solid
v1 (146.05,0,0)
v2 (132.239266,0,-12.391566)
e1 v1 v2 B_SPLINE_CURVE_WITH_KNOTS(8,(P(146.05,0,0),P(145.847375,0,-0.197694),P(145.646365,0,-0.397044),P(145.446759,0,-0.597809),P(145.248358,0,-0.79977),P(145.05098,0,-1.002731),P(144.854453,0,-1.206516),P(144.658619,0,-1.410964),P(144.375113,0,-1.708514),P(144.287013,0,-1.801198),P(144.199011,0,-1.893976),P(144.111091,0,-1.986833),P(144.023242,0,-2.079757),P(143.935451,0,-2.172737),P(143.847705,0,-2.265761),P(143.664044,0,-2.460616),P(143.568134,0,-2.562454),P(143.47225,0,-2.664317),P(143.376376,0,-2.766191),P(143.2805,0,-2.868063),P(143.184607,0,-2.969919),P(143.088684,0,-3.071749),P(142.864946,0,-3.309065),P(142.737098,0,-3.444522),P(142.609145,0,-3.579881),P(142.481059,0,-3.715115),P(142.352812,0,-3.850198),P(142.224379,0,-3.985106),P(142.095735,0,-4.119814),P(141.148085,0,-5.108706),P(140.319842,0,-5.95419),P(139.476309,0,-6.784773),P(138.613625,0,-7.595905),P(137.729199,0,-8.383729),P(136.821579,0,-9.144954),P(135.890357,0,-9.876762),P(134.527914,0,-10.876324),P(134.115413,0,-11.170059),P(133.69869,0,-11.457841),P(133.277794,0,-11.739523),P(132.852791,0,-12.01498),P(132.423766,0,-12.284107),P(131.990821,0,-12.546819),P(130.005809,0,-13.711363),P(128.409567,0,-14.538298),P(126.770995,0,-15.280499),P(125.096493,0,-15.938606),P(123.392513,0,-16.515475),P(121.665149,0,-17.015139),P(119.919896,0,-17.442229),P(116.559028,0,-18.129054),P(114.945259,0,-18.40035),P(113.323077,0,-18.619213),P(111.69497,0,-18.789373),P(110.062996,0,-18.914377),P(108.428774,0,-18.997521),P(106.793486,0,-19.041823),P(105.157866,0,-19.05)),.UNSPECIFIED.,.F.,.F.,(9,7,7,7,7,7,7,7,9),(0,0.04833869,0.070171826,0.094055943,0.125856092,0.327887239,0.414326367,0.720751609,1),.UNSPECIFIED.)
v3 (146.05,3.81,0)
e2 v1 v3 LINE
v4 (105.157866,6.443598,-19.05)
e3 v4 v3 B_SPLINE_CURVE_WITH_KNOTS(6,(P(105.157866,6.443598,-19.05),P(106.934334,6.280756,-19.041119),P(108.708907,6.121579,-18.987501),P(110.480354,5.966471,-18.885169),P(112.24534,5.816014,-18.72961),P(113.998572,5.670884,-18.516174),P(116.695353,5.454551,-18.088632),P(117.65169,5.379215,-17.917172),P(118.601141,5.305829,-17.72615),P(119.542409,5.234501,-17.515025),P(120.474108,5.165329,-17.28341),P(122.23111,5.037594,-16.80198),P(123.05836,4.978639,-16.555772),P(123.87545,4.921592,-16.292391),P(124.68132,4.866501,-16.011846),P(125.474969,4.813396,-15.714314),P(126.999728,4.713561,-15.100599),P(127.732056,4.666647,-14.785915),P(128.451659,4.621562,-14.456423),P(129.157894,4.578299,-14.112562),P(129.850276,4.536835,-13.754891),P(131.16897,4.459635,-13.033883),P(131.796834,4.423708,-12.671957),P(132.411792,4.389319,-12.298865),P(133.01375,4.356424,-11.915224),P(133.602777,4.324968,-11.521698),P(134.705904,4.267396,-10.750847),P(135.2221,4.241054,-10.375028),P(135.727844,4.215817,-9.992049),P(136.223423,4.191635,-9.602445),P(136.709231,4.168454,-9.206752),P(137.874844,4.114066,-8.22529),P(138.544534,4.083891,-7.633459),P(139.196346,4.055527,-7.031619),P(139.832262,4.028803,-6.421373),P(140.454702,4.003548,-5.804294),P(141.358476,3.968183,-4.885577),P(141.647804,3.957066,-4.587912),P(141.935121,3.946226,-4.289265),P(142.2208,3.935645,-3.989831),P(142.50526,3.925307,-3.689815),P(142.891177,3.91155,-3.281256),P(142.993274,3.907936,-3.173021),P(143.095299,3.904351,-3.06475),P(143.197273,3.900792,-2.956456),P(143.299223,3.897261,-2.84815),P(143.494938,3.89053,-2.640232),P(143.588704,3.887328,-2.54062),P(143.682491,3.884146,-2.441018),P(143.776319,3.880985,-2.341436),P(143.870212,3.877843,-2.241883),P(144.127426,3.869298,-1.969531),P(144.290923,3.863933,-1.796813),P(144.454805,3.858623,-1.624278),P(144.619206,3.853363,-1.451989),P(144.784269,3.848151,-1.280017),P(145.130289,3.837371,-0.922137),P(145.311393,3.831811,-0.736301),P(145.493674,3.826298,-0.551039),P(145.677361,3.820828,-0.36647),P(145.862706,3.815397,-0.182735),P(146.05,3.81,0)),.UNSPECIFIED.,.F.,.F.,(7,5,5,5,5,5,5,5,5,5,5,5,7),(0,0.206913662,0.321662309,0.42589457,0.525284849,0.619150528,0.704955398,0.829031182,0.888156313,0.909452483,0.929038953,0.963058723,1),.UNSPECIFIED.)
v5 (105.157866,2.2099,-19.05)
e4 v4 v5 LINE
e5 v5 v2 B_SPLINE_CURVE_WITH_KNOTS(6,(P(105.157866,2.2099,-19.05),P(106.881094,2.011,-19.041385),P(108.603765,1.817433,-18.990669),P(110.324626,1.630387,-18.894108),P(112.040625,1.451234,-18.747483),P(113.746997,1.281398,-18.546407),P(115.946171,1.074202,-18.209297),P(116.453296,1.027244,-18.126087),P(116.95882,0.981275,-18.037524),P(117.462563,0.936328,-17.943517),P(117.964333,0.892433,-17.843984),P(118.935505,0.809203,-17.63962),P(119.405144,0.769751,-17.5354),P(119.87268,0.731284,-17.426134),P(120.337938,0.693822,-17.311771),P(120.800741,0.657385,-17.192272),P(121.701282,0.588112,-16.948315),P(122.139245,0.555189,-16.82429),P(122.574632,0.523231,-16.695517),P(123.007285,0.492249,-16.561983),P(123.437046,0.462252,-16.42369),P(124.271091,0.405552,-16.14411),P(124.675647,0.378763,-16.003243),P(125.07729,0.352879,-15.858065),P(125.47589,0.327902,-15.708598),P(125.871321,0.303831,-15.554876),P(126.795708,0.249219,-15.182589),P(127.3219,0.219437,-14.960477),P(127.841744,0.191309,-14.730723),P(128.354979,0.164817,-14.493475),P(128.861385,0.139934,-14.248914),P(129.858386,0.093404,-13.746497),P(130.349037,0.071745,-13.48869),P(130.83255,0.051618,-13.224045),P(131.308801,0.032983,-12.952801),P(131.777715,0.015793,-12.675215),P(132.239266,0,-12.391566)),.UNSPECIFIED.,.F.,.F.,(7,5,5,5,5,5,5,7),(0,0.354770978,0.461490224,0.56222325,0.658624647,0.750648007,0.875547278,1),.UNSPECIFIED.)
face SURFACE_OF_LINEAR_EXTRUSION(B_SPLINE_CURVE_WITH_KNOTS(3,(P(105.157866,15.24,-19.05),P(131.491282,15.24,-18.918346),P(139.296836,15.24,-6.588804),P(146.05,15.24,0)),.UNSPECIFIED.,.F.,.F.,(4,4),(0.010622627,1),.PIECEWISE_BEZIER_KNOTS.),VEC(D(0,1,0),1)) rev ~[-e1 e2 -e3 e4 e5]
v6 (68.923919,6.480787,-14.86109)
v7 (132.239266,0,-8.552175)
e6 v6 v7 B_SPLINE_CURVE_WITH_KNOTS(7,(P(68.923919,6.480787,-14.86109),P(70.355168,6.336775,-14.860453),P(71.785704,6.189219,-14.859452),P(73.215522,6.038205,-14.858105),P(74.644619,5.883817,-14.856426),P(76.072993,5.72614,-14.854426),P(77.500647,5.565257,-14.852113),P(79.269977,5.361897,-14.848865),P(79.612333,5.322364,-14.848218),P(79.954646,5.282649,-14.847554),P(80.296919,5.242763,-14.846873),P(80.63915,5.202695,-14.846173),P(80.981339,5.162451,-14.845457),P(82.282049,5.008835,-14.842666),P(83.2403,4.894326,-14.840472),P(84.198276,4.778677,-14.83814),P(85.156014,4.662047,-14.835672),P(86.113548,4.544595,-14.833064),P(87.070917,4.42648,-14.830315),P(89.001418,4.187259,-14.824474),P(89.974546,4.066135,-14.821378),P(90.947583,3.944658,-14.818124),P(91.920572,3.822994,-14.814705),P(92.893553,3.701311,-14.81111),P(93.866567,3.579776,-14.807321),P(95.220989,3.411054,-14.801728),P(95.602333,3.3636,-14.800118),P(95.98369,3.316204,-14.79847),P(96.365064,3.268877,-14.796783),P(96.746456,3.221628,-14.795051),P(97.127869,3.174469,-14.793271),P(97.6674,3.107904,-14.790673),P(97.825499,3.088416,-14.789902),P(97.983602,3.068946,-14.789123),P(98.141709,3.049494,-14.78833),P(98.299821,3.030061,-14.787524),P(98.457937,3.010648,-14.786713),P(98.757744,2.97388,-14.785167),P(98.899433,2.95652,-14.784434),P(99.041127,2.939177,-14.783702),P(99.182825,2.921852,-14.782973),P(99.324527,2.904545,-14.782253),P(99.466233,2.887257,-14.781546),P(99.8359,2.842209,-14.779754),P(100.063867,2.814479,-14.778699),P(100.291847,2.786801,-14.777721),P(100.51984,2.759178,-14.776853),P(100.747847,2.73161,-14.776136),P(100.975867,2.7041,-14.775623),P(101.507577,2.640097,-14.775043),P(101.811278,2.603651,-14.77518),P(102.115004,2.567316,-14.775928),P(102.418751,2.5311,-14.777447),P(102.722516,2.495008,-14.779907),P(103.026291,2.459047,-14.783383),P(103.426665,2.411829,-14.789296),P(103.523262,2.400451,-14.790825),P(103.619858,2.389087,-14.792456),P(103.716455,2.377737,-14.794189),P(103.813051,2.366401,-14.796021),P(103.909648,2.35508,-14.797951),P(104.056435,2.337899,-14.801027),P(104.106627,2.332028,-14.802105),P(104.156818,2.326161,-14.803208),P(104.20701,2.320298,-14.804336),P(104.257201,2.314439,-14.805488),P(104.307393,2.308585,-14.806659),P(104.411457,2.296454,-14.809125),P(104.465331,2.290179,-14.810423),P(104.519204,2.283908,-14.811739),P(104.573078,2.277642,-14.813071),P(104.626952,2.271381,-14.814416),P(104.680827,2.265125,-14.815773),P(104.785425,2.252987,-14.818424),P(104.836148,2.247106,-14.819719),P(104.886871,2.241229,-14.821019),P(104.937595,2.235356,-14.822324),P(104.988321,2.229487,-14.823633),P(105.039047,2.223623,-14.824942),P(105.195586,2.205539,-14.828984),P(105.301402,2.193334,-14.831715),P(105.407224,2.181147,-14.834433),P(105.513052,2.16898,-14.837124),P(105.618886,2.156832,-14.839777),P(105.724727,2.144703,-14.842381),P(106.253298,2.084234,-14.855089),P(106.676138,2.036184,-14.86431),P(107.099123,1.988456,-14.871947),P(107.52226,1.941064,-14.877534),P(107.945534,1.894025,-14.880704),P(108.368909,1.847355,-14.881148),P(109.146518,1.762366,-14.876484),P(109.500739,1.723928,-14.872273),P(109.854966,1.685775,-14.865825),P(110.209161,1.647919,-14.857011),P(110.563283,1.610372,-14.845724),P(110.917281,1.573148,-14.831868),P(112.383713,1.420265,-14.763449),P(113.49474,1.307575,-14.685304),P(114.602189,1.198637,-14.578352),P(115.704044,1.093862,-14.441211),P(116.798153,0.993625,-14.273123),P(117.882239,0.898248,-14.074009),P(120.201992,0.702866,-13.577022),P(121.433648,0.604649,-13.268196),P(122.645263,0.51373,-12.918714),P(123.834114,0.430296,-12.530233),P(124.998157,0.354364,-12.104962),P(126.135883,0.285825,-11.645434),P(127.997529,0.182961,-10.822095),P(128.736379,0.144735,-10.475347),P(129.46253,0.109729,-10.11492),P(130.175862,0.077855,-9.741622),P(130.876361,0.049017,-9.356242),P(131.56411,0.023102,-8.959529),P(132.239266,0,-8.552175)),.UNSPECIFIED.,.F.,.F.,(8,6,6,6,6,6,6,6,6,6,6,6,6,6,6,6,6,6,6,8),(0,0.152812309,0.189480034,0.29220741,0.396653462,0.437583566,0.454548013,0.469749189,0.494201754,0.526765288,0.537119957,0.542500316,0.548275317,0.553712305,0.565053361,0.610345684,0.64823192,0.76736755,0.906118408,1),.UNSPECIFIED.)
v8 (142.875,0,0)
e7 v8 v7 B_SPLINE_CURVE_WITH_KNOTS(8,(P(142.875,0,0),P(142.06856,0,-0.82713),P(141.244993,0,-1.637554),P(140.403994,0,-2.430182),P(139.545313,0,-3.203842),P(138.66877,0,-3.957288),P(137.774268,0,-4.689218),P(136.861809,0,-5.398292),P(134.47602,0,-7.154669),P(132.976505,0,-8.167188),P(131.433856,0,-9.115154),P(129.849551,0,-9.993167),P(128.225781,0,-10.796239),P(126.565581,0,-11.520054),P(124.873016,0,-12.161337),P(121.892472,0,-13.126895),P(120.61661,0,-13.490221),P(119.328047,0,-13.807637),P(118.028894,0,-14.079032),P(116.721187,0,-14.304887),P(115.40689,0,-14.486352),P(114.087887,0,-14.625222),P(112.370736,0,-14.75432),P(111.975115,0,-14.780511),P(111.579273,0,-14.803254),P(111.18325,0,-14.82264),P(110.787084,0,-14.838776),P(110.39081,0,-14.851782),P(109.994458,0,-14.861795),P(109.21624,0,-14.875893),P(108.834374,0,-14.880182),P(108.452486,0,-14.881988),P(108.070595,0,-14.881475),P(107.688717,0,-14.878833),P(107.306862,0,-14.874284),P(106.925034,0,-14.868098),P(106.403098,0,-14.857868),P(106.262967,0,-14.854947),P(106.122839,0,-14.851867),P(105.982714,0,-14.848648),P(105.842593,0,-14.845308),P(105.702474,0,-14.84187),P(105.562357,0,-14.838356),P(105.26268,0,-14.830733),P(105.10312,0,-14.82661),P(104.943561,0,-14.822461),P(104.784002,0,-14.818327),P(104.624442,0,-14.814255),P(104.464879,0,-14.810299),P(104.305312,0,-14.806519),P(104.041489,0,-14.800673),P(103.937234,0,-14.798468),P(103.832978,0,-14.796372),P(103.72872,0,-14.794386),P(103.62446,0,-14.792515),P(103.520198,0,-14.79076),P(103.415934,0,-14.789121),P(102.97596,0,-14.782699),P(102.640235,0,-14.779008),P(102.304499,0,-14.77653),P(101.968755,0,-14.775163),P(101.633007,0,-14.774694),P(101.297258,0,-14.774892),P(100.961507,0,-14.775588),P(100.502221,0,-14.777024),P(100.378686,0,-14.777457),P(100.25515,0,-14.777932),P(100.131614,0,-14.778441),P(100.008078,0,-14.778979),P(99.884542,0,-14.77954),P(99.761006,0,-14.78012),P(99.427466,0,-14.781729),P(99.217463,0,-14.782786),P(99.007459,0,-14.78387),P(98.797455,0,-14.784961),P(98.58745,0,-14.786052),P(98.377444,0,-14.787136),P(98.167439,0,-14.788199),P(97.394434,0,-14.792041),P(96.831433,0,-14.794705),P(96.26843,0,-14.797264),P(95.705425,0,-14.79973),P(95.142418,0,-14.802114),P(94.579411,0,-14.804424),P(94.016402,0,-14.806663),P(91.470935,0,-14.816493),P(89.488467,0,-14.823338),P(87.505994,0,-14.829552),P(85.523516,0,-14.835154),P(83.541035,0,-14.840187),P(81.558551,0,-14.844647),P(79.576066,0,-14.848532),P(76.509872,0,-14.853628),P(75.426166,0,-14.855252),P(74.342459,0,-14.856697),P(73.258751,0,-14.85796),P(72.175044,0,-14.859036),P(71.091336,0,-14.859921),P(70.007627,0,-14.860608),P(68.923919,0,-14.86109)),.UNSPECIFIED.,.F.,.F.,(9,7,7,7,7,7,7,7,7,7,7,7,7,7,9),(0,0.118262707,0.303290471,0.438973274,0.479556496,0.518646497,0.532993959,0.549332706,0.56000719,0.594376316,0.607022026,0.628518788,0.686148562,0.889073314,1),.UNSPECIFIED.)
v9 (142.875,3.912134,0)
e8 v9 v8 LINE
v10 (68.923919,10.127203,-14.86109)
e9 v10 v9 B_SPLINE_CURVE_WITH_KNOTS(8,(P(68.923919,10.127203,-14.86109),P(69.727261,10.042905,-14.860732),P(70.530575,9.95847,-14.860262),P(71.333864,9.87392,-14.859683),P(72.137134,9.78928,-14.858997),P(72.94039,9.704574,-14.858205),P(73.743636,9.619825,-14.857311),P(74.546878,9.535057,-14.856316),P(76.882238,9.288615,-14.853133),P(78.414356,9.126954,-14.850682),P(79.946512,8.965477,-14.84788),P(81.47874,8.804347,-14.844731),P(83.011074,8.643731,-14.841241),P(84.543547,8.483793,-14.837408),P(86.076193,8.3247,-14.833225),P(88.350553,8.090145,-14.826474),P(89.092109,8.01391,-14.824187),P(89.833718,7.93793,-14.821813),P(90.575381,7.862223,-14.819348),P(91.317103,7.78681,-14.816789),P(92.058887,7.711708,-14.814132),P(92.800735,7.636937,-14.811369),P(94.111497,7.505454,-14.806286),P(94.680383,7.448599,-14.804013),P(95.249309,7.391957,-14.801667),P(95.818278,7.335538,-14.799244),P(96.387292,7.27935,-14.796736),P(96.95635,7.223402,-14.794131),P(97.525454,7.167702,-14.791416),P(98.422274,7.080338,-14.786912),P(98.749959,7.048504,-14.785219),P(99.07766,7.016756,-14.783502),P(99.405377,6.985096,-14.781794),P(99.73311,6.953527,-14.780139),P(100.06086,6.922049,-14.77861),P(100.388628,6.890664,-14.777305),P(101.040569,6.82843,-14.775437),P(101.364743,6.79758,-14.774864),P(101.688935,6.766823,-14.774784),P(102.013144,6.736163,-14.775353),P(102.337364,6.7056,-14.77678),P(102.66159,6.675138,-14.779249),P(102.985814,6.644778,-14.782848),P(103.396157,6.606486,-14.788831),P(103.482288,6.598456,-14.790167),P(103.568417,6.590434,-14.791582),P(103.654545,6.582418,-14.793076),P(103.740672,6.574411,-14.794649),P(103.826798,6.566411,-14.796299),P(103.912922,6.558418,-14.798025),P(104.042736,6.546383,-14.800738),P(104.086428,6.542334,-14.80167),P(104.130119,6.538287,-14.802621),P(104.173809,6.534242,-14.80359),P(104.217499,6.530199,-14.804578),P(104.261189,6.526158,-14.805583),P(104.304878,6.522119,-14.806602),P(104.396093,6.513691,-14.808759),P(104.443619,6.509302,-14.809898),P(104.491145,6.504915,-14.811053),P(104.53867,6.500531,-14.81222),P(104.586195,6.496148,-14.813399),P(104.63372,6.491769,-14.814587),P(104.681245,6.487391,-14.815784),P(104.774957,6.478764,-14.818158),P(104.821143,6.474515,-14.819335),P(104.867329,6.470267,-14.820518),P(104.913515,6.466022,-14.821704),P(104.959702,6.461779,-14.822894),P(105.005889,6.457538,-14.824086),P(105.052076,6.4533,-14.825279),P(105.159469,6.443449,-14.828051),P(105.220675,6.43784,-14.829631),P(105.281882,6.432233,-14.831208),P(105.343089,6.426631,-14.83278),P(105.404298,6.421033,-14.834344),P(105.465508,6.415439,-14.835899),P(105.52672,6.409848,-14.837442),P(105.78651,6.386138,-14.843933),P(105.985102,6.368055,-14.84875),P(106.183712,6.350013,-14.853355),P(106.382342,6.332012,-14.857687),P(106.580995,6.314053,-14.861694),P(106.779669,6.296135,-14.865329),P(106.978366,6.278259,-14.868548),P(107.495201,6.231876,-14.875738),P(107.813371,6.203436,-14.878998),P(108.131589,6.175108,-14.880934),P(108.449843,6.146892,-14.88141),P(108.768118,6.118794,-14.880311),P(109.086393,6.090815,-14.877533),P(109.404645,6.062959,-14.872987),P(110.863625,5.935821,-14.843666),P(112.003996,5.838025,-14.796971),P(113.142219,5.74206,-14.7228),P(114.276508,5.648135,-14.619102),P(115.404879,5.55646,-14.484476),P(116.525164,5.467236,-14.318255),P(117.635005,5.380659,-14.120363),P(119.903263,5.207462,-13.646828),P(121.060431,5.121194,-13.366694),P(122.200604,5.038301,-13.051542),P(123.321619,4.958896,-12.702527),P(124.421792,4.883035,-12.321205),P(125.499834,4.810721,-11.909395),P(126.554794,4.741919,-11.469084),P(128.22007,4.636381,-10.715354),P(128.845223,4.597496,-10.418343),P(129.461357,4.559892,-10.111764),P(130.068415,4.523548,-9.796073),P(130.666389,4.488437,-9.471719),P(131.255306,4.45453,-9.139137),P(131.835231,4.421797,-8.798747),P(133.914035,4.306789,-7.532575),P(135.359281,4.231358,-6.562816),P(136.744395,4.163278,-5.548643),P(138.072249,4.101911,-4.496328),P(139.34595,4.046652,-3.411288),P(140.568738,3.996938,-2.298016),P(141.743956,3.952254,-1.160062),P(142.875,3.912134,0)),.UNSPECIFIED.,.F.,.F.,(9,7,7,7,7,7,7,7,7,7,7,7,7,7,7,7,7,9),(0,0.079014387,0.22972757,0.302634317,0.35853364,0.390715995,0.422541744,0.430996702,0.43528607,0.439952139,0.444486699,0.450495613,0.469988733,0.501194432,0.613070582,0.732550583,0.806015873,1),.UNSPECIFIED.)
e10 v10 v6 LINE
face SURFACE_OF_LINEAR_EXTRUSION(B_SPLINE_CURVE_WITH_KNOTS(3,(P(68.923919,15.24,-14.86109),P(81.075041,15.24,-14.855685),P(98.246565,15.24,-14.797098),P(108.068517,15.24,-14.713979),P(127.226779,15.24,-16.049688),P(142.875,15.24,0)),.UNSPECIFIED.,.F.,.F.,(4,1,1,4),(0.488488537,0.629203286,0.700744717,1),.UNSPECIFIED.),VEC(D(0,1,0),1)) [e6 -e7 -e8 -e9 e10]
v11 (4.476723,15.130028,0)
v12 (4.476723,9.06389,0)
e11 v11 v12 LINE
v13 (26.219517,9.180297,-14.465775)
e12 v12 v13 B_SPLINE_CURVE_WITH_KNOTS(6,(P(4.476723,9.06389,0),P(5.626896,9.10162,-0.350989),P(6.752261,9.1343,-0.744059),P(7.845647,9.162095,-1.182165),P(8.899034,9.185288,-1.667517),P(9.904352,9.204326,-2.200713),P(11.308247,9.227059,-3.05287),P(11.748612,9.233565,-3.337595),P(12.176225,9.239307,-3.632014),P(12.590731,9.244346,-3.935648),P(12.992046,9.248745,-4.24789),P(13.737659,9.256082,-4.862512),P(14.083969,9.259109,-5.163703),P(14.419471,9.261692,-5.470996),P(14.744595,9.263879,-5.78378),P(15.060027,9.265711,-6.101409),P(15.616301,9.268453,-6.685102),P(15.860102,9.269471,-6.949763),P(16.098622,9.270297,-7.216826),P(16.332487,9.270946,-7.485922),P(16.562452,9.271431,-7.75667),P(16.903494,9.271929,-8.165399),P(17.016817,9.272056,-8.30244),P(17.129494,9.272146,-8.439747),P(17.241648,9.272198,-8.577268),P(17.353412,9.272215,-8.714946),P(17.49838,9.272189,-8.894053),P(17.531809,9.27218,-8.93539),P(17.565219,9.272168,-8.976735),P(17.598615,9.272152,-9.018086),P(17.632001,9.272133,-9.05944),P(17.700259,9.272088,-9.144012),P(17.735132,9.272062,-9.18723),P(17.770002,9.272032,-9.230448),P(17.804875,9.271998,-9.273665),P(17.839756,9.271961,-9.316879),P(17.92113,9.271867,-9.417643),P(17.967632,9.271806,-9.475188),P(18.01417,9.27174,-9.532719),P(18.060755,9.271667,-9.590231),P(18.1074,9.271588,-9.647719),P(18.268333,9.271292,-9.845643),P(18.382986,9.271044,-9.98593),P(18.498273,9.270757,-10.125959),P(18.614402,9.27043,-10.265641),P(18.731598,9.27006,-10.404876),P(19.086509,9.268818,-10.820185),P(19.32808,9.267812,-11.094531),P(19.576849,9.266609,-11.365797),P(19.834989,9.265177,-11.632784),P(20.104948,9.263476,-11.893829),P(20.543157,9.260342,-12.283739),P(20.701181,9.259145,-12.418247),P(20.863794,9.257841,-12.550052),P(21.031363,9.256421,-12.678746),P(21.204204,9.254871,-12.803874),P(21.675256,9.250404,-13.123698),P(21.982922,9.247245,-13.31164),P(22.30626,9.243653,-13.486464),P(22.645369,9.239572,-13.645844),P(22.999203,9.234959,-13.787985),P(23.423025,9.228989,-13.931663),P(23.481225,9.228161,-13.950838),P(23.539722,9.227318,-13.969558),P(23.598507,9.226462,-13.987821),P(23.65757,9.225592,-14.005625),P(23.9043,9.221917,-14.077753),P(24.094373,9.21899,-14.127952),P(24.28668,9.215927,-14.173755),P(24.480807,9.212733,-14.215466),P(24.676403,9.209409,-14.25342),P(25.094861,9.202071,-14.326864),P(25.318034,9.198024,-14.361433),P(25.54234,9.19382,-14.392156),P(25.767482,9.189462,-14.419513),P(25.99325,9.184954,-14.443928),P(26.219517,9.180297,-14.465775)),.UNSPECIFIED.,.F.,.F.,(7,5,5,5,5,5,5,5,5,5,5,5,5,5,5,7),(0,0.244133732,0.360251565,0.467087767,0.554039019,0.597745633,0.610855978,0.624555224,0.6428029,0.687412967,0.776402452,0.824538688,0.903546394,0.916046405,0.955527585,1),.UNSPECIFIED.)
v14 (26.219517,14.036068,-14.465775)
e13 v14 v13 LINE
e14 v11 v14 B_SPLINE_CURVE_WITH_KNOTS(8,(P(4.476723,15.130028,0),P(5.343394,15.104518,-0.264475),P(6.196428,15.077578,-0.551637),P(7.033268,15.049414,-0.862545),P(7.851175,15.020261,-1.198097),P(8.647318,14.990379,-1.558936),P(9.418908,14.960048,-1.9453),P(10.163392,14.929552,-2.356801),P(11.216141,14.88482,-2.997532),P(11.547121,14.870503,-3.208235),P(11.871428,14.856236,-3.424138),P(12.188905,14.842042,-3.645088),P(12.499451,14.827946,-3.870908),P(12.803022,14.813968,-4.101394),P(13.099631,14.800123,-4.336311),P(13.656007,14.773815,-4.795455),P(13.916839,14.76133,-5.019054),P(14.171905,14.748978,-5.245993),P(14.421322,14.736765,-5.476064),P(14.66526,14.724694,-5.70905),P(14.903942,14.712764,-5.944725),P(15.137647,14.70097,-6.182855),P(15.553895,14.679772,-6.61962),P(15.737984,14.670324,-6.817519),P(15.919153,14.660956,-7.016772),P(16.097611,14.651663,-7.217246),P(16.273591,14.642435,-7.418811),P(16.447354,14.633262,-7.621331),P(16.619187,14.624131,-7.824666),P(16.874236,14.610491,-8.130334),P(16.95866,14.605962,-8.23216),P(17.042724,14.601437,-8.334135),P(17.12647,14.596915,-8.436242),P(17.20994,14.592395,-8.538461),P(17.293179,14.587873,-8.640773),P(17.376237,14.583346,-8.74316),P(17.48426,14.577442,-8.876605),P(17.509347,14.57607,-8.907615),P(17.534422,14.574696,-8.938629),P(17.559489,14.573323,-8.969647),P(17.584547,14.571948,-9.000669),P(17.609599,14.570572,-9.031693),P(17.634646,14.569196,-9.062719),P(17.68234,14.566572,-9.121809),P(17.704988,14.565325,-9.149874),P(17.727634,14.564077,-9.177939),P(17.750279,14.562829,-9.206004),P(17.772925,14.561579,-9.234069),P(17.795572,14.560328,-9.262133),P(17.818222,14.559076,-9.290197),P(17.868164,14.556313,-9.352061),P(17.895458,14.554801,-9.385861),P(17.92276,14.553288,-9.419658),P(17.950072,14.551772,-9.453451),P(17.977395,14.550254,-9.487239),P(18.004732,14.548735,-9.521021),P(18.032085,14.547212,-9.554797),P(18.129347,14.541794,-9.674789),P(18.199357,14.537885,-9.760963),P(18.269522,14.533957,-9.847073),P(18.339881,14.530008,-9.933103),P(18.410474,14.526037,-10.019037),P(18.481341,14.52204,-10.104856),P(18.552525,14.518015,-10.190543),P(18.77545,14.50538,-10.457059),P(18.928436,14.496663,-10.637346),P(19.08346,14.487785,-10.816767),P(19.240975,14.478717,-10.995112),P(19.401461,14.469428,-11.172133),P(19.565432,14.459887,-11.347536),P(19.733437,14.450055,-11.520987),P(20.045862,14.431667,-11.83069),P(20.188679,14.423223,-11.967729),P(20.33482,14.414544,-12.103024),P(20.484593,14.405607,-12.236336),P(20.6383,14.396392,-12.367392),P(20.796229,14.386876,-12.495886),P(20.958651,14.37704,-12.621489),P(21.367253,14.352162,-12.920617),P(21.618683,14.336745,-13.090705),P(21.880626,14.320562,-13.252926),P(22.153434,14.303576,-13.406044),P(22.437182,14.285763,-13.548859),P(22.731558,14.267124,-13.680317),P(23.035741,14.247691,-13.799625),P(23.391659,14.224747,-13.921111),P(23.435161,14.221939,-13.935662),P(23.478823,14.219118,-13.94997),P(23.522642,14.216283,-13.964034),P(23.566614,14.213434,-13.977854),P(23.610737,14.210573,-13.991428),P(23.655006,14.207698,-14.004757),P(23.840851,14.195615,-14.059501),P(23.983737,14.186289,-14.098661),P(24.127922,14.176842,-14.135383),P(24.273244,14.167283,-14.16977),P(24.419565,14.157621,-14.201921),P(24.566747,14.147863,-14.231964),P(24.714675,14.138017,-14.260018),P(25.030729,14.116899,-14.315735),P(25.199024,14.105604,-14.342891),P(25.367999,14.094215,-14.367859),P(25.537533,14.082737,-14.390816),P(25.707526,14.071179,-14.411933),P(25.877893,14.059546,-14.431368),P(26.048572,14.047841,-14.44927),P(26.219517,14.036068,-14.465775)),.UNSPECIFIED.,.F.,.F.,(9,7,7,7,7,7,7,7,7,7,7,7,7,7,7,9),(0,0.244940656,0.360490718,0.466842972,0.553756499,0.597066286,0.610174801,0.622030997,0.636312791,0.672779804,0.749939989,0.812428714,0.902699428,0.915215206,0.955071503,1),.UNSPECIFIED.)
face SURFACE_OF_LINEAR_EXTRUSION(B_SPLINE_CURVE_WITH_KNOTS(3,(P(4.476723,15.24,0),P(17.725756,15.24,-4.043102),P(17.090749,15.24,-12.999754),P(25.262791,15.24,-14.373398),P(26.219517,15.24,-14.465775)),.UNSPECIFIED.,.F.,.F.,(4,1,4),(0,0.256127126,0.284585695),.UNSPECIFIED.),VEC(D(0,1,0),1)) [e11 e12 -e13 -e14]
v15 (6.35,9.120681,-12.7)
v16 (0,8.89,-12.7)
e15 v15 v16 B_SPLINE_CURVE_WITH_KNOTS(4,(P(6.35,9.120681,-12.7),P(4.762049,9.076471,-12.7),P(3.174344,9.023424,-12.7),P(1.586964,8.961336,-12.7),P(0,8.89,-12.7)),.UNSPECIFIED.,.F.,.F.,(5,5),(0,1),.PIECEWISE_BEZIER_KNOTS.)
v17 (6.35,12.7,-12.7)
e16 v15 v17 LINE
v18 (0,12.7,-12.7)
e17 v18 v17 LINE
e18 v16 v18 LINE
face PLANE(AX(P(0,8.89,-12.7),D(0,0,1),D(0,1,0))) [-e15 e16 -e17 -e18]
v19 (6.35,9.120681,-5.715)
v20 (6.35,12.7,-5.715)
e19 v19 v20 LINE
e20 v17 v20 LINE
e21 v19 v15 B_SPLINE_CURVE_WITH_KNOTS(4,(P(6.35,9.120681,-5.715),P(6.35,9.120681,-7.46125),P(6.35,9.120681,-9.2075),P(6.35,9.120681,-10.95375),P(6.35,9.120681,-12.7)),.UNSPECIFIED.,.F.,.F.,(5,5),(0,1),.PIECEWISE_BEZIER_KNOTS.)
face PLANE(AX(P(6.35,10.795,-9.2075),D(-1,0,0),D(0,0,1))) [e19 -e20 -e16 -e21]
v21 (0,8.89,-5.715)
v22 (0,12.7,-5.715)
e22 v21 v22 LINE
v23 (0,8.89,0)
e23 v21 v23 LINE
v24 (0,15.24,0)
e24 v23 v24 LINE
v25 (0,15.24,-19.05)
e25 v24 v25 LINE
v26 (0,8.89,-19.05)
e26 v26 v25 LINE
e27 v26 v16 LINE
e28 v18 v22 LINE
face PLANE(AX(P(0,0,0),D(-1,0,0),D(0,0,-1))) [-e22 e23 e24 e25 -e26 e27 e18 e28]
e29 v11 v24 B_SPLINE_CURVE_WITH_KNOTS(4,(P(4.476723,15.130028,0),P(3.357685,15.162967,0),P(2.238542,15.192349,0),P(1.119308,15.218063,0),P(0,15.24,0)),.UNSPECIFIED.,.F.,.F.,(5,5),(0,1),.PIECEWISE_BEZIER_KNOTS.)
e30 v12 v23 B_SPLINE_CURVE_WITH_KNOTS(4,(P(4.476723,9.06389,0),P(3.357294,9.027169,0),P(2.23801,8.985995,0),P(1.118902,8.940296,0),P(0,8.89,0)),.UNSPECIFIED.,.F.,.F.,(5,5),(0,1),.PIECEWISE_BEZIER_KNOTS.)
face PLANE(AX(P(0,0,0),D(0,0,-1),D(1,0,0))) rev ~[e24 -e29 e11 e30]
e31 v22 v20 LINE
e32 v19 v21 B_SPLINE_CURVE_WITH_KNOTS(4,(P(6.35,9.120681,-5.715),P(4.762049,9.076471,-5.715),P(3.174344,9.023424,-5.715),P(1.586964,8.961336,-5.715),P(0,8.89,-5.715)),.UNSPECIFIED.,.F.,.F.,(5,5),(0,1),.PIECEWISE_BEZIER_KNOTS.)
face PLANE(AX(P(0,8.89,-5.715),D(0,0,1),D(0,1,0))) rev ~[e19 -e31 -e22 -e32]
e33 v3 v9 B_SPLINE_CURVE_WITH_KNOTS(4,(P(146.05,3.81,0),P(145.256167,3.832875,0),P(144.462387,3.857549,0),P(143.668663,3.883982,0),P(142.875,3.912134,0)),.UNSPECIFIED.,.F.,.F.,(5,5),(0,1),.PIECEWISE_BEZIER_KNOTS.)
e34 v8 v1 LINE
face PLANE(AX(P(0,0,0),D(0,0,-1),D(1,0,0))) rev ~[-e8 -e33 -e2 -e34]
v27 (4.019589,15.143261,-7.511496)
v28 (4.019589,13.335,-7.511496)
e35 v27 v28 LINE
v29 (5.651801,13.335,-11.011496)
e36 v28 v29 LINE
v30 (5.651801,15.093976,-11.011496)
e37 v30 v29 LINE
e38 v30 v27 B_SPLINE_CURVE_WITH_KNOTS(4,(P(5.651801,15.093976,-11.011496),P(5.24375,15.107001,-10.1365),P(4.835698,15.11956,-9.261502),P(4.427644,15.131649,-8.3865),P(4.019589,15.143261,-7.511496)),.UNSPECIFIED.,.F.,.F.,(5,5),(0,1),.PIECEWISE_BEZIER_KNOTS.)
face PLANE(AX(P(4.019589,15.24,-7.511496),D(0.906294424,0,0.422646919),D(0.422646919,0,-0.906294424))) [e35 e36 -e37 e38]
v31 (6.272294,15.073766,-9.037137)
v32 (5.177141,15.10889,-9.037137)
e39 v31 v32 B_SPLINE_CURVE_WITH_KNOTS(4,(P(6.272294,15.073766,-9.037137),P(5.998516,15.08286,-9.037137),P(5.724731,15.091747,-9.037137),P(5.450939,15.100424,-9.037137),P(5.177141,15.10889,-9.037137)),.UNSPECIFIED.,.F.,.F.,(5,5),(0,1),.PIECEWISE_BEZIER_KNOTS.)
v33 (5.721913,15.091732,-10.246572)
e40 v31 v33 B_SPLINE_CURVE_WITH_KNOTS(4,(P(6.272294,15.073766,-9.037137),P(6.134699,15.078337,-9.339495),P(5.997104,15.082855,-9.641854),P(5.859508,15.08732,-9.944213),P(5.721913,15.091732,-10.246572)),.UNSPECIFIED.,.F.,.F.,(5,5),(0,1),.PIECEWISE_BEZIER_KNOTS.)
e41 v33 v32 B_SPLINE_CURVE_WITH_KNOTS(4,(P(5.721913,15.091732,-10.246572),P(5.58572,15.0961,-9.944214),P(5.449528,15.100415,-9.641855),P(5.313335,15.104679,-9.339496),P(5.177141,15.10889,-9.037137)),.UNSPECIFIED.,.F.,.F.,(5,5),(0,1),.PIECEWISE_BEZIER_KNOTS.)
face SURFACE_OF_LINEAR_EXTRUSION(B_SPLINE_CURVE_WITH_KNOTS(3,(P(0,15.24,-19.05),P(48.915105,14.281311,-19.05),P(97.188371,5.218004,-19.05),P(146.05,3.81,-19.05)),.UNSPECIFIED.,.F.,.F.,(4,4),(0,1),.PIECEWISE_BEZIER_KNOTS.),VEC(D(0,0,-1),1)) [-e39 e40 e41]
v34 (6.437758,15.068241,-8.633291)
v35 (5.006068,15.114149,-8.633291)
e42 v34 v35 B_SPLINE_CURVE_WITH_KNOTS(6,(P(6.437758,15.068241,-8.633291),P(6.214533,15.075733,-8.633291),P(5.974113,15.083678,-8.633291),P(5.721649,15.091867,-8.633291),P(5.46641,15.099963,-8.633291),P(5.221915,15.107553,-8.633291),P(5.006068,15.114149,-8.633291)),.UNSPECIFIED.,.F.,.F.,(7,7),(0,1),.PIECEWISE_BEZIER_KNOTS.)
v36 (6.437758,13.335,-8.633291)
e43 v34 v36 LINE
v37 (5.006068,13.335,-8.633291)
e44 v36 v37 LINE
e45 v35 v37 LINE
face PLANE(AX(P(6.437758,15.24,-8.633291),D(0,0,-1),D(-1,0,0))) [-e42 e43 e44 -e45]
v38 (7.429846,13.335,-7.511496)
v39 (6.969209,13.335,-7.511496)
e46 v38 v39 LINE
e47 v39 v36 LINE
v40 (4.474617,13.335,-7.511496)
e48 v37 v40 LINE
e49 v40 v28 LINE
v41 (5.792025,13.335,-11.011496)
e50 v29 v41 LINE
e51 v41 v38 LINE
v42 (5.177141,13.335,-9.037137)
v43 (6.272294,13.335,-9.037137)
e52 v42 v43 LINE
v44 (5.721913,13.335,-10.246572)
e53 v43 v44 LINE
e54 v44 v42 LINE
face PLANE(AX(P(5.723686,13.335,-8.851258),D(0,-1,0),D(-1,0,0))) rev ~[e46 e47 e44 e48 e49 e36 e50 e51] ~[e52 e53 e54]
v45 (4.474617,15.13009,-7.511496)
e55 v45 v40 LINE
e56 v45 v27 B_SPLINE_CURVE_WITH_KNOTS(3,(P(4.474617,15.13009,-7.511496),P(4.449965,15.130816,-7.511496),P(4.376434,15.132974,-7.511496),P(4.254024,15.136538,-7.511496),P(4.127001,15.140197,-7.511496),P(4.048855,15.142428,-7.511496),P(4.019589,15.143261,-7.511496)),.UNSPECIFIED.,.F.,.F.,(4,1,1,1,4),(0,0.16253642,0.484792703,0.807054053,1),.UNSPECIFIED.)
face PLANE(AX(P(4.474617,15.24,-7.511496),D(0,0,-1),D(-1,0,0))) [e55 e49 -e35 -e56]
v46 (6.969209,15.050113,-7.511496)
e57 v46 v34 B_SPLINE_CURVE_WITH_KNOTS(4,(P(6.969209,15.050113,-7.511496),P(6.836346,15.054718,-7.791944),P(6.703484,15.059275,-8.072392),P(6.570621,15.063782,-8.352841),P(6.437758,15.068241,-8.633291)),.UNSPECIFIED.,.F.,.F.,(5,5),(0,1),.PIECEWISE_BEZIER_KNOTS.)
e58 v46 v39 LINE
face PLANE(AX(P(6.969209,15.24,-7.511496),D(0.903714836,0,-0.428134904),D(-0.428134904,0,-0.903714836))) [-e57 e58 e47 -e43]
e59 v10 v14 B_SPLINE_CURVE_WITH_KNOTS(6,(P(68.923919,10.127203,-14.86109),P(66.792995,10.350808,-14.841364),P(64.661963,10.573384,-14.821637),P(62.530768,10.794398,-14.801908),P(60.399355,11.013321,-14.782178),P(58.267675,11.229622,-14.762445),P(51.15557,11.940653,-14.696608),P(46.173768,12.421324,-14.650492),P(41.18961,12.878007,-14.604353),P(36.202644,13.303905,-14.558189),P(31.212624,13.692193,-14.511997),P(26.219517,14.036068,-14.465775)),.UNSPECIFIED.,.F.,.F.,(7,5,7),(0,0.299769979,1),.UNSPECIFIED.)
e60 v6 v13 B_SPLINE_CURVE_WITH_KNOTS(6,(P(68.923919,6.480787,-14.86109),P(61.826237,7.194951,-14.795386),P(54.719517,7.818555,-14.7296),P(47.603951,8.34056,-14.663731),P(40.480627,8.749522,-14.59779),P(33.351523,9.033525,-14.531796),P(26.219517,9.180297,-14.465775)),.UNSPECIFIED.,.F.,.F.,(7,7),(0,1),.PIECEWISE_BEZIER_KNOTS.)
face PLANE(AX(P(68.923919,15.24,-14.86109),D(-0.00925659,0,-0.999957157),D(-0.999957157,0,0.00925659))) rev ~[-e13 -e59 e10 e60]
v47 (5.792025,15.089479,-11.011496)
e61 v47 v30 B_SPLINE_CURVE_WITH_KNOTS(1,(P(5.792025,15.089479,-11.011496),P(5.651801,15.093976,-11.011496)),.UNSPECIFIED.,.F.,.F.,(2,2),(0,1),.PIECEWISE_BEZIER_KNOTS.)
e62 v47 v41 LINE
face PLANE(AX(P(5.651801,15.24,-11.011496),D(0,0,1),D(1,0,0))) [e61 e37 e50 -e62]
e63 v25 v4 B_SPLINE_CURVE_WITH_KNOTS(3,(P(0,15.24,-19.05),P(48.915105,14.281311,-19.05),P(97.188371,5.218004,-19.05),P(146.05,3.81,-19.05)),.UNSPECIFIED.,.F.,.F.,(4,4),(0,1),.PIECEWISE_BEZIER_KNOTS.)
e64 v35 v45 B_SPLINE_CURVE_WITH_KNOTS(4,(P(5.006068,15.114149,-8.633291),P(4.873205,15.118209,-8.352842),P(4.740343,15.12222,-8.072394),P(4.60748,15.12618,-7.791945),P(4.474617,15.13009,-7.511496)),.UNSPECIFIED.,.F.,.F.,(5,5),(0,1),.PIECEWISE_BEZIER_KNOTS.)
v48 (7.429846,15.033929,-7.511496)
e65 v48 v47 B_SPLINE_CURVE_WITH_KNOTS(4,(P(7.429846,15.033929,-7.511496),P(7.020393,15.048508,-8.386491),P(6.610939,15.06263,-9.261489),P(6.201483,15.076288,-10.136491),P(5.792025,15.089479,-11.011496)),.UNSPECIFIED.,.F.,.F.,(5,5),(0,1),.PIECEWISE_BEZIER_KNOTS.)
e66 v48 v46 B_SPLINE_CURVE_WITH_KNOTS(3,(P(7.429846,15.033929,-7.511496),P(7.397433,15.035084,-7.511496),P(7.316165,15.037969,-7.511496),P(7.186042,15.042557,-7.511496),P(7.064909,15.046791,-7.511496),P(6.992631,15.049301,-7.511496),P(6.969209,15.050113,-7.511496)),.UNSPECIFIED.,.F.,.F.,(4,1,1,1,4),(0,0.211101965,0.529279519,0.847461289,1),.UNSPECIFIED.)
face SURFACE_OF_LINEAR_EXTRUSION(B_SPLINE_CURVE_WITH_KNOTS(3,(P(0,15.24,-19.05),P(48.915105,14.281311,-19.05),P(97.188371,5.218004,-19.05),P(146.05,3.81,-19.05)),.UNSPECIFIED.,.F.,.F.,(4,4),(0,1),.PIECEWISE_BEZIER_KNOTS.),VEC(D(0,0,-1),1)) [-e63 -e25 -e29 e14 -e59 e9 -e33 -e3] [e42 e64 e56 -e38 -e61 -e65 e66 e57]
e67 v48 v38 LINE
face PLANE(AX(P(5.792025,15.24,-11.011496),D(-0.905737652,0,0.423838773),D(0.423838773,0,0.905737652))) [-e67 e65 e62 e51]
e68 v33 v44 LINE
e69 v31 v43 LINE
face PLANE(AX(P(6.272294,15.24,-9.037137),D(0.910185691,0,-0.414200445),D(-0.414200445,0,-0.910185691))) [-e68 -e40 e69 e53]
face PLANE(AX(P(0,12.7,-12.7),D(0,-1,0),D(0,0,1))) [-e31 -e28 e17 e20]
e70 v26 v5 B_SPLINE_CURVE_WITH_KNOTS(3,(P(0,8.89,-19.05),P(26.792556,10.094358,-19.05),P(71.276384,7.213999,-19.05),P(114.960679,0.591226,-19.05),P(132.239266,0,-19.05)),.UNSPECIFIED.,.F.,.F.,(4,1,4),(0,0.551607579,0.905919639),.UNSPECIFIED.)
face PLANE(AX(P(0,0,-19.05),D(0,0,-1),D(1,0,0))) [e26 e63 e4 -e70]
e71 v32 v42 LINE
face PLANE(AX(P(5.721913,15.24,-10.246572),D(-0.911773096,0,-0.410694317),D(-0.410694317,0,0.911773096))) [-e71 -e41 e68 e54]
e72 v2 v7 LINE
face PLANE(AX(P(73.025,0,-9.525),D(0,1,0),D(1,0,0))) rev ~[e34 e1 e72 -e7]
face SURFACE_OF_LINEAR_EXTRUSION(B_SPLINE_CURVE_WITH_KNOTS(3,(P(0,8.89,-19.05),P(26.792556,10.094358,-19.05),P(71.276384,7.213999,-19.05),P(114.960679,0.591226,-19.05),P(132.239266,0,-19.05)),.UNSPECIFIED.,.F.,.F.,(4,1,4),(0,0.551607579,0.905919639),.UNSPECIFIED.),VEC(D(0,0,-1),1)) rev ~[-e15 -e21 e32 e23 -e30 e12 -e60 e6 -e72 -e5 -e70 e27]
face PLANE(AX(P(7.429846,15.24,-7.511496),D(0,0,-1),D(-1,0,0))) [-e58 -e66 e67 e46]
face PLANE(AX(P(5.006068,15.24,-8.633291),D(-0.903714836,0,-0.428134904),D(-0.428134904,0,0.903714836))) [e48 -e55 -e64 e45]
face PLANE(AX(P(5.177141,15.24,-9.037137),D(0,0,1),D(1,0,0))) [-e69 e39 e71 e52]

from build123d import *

# Parameters (mm, degrees)
SKETCH1_W           = 146.05
SKETCH1_H           = 19.05
BOSS_EXTRUDE1_DEPTH = 15.24
CUT_EXTRUDE5_DEPTH  = 1.905
CUT_EXTRUDE2_DEPTH  = 19.05
CUT_EXTRUDE3_DEPTH  = 149.073504166
SKETCH5_W           = 6.985
SKETCH5_H           = 3.81
CUT_EXTRUDE4_DEPTH  = 6.35


with BuildPart() as part:
    # Sketch1 → Boss-Extrude1 (new body)
    with BuildSketch(Plane(origin=(0, 0, 0), x_dir=(1, 0, 0), z_dir=(0, 1, 0))):
        with Locations((73.025, 9.525)):
            Rectangle(SKETCH1_W, SKETCH1_H)
    extrude(amount=BOSS_EXTRUDE1_DEPTH)

    # Sketch6 → Cut-Extrude5 (cut)
    with BuildSketch(Plane(origin=(0, 15.24, 0), x_dir=(1, 0, 0), z_dir=(0, 1, 0))):
        Polygon((5.792025279, 11.011495693), (7.429845792, 7.511495693), (6.969208773, 7.511495693), (6.437758452, 8.633290564), (5.006067747, 8.633290564), (4.474617426, 7.511495693), (4.019589382, 7.511495693), (5.65180092, 11.011495693), align=None)
        Polygon((5.7219131, 10.246571814), (5.177141465, 9.037136718), (6.272293709, 9.037136718), align=None, mode=Mode.SUBTRACT)
    extrude(amount=-CUT_EXTRUDE5_DEPTH, mode=Mode.SUBTRACT)

    # Sketch4 → Cut-Extrude2 (cut)
    with BuildSketch(Plane(origin=(0, 15.24, 0), x_dir=(1, 0, 0), z_dir=(0, 1, 0))):
        with BuildLine():
            add(Edge.make_bspline(
                [(4.476723392, 0), (17.725756487, 4.043101895), (17.090749047, 12.999753789), (25.262791442, 14.373397692), (26.219517358, 14.465775476)],
                knots=[0, 0, 0, 0, 0.256127126, 0.284585695, 0.284585695, 0.284585695, 0.284585695], degree=3))
            Line((4.476723392, 0), (142.875, 0))
            add(Edge.make_bspline(
                [(68.923918907, 14.861089556), (81.075041449, 14.855684794), (98.246564786, 14.797098309), (108.068516517, 14.713978549), (127.226778846, 16.049688466), (142.875, 0)],
                knots=[0.488488537, 0.488488537, 0.488488537, 0.488488537, 0.629203286, 0.700744717, 1, 1, 1, 1], degree=3))
            Line((68.923918907, 14.861089556), (26.219517358, 14.465775476))
        make_face()
        with BuildLine():
            add(Edge.make_bspline(
                [(105.157866441, 19.05), (131.491281961, 18.918345897), (139.296835945, 6.588803862), (146.05, 0)],
                knots=[0.010622627, 0.010622627, 0.010622627, 0.010622627, 1, 1, 1, 1], degree=3))
            Line((146.05, 0), (146.05, 19.05))
            Line((146.05, 19.05), (105.157866441, 19.05))
        make_face()
    extrude(amount=-CUT_EXTRUDE2_DEPTH, mode=Mode.SUBTRACT)

    # Sketch3 → Cut-Extrude3 (cut, through all)
    with BuildSketch(Plane(origin=(0, 0, -19.05), x_dir=(-1, 0, 0), z_dir=(0, 0, -1))):
        with BuildLine():
            Line((0, 0), (0, 8.89))
            add(Edge.make_bspline(
                [(0, 8.89), (-26.792555724, 10.094357911), (-71.276383534, 7.213998552), (-114.960678795, 0.591225669), (-132.239266272, 0)],
                knots=[0, 0, 0, 0, 0.551607579, 0.905919639, 0.905919639, 0.905919639, 0.905919639], degree=3))
            Line((-132.239266272, 0), (0, 0))
        make_face()
        with BuildLine():
            add(Edge.make_bspline(
                [(0, 15.24), (-48.91510465, 14.281311131), (-97.188371336, 5.218004406), (-146.05, 3.81)],
                knots=[0, 0, 0, 0, 1, 1, 1, 1], degree=3))
            Line((0, 15.24), (-146.05, 15.24))
            Line((-146.05, 15.24), (-146.05, 3.81))
        make_face()
    extrude(amount=-CUT_EXTRUDE3_DEPTH, mode=Mode.SUBTRACT)

    # Sketch5 → Cut-Extrude4 (cut)
    with BuildSketch(Plane.ZY):
        with Locations((-9.2075, 10.795)):
            Rectangle(SKETCH5_W, SKETCH5_H)
    extrude(amount=-CUT_EXTRUDE4_DEPTH, mode=Mode.SUBTRACT)


solid = part.part
